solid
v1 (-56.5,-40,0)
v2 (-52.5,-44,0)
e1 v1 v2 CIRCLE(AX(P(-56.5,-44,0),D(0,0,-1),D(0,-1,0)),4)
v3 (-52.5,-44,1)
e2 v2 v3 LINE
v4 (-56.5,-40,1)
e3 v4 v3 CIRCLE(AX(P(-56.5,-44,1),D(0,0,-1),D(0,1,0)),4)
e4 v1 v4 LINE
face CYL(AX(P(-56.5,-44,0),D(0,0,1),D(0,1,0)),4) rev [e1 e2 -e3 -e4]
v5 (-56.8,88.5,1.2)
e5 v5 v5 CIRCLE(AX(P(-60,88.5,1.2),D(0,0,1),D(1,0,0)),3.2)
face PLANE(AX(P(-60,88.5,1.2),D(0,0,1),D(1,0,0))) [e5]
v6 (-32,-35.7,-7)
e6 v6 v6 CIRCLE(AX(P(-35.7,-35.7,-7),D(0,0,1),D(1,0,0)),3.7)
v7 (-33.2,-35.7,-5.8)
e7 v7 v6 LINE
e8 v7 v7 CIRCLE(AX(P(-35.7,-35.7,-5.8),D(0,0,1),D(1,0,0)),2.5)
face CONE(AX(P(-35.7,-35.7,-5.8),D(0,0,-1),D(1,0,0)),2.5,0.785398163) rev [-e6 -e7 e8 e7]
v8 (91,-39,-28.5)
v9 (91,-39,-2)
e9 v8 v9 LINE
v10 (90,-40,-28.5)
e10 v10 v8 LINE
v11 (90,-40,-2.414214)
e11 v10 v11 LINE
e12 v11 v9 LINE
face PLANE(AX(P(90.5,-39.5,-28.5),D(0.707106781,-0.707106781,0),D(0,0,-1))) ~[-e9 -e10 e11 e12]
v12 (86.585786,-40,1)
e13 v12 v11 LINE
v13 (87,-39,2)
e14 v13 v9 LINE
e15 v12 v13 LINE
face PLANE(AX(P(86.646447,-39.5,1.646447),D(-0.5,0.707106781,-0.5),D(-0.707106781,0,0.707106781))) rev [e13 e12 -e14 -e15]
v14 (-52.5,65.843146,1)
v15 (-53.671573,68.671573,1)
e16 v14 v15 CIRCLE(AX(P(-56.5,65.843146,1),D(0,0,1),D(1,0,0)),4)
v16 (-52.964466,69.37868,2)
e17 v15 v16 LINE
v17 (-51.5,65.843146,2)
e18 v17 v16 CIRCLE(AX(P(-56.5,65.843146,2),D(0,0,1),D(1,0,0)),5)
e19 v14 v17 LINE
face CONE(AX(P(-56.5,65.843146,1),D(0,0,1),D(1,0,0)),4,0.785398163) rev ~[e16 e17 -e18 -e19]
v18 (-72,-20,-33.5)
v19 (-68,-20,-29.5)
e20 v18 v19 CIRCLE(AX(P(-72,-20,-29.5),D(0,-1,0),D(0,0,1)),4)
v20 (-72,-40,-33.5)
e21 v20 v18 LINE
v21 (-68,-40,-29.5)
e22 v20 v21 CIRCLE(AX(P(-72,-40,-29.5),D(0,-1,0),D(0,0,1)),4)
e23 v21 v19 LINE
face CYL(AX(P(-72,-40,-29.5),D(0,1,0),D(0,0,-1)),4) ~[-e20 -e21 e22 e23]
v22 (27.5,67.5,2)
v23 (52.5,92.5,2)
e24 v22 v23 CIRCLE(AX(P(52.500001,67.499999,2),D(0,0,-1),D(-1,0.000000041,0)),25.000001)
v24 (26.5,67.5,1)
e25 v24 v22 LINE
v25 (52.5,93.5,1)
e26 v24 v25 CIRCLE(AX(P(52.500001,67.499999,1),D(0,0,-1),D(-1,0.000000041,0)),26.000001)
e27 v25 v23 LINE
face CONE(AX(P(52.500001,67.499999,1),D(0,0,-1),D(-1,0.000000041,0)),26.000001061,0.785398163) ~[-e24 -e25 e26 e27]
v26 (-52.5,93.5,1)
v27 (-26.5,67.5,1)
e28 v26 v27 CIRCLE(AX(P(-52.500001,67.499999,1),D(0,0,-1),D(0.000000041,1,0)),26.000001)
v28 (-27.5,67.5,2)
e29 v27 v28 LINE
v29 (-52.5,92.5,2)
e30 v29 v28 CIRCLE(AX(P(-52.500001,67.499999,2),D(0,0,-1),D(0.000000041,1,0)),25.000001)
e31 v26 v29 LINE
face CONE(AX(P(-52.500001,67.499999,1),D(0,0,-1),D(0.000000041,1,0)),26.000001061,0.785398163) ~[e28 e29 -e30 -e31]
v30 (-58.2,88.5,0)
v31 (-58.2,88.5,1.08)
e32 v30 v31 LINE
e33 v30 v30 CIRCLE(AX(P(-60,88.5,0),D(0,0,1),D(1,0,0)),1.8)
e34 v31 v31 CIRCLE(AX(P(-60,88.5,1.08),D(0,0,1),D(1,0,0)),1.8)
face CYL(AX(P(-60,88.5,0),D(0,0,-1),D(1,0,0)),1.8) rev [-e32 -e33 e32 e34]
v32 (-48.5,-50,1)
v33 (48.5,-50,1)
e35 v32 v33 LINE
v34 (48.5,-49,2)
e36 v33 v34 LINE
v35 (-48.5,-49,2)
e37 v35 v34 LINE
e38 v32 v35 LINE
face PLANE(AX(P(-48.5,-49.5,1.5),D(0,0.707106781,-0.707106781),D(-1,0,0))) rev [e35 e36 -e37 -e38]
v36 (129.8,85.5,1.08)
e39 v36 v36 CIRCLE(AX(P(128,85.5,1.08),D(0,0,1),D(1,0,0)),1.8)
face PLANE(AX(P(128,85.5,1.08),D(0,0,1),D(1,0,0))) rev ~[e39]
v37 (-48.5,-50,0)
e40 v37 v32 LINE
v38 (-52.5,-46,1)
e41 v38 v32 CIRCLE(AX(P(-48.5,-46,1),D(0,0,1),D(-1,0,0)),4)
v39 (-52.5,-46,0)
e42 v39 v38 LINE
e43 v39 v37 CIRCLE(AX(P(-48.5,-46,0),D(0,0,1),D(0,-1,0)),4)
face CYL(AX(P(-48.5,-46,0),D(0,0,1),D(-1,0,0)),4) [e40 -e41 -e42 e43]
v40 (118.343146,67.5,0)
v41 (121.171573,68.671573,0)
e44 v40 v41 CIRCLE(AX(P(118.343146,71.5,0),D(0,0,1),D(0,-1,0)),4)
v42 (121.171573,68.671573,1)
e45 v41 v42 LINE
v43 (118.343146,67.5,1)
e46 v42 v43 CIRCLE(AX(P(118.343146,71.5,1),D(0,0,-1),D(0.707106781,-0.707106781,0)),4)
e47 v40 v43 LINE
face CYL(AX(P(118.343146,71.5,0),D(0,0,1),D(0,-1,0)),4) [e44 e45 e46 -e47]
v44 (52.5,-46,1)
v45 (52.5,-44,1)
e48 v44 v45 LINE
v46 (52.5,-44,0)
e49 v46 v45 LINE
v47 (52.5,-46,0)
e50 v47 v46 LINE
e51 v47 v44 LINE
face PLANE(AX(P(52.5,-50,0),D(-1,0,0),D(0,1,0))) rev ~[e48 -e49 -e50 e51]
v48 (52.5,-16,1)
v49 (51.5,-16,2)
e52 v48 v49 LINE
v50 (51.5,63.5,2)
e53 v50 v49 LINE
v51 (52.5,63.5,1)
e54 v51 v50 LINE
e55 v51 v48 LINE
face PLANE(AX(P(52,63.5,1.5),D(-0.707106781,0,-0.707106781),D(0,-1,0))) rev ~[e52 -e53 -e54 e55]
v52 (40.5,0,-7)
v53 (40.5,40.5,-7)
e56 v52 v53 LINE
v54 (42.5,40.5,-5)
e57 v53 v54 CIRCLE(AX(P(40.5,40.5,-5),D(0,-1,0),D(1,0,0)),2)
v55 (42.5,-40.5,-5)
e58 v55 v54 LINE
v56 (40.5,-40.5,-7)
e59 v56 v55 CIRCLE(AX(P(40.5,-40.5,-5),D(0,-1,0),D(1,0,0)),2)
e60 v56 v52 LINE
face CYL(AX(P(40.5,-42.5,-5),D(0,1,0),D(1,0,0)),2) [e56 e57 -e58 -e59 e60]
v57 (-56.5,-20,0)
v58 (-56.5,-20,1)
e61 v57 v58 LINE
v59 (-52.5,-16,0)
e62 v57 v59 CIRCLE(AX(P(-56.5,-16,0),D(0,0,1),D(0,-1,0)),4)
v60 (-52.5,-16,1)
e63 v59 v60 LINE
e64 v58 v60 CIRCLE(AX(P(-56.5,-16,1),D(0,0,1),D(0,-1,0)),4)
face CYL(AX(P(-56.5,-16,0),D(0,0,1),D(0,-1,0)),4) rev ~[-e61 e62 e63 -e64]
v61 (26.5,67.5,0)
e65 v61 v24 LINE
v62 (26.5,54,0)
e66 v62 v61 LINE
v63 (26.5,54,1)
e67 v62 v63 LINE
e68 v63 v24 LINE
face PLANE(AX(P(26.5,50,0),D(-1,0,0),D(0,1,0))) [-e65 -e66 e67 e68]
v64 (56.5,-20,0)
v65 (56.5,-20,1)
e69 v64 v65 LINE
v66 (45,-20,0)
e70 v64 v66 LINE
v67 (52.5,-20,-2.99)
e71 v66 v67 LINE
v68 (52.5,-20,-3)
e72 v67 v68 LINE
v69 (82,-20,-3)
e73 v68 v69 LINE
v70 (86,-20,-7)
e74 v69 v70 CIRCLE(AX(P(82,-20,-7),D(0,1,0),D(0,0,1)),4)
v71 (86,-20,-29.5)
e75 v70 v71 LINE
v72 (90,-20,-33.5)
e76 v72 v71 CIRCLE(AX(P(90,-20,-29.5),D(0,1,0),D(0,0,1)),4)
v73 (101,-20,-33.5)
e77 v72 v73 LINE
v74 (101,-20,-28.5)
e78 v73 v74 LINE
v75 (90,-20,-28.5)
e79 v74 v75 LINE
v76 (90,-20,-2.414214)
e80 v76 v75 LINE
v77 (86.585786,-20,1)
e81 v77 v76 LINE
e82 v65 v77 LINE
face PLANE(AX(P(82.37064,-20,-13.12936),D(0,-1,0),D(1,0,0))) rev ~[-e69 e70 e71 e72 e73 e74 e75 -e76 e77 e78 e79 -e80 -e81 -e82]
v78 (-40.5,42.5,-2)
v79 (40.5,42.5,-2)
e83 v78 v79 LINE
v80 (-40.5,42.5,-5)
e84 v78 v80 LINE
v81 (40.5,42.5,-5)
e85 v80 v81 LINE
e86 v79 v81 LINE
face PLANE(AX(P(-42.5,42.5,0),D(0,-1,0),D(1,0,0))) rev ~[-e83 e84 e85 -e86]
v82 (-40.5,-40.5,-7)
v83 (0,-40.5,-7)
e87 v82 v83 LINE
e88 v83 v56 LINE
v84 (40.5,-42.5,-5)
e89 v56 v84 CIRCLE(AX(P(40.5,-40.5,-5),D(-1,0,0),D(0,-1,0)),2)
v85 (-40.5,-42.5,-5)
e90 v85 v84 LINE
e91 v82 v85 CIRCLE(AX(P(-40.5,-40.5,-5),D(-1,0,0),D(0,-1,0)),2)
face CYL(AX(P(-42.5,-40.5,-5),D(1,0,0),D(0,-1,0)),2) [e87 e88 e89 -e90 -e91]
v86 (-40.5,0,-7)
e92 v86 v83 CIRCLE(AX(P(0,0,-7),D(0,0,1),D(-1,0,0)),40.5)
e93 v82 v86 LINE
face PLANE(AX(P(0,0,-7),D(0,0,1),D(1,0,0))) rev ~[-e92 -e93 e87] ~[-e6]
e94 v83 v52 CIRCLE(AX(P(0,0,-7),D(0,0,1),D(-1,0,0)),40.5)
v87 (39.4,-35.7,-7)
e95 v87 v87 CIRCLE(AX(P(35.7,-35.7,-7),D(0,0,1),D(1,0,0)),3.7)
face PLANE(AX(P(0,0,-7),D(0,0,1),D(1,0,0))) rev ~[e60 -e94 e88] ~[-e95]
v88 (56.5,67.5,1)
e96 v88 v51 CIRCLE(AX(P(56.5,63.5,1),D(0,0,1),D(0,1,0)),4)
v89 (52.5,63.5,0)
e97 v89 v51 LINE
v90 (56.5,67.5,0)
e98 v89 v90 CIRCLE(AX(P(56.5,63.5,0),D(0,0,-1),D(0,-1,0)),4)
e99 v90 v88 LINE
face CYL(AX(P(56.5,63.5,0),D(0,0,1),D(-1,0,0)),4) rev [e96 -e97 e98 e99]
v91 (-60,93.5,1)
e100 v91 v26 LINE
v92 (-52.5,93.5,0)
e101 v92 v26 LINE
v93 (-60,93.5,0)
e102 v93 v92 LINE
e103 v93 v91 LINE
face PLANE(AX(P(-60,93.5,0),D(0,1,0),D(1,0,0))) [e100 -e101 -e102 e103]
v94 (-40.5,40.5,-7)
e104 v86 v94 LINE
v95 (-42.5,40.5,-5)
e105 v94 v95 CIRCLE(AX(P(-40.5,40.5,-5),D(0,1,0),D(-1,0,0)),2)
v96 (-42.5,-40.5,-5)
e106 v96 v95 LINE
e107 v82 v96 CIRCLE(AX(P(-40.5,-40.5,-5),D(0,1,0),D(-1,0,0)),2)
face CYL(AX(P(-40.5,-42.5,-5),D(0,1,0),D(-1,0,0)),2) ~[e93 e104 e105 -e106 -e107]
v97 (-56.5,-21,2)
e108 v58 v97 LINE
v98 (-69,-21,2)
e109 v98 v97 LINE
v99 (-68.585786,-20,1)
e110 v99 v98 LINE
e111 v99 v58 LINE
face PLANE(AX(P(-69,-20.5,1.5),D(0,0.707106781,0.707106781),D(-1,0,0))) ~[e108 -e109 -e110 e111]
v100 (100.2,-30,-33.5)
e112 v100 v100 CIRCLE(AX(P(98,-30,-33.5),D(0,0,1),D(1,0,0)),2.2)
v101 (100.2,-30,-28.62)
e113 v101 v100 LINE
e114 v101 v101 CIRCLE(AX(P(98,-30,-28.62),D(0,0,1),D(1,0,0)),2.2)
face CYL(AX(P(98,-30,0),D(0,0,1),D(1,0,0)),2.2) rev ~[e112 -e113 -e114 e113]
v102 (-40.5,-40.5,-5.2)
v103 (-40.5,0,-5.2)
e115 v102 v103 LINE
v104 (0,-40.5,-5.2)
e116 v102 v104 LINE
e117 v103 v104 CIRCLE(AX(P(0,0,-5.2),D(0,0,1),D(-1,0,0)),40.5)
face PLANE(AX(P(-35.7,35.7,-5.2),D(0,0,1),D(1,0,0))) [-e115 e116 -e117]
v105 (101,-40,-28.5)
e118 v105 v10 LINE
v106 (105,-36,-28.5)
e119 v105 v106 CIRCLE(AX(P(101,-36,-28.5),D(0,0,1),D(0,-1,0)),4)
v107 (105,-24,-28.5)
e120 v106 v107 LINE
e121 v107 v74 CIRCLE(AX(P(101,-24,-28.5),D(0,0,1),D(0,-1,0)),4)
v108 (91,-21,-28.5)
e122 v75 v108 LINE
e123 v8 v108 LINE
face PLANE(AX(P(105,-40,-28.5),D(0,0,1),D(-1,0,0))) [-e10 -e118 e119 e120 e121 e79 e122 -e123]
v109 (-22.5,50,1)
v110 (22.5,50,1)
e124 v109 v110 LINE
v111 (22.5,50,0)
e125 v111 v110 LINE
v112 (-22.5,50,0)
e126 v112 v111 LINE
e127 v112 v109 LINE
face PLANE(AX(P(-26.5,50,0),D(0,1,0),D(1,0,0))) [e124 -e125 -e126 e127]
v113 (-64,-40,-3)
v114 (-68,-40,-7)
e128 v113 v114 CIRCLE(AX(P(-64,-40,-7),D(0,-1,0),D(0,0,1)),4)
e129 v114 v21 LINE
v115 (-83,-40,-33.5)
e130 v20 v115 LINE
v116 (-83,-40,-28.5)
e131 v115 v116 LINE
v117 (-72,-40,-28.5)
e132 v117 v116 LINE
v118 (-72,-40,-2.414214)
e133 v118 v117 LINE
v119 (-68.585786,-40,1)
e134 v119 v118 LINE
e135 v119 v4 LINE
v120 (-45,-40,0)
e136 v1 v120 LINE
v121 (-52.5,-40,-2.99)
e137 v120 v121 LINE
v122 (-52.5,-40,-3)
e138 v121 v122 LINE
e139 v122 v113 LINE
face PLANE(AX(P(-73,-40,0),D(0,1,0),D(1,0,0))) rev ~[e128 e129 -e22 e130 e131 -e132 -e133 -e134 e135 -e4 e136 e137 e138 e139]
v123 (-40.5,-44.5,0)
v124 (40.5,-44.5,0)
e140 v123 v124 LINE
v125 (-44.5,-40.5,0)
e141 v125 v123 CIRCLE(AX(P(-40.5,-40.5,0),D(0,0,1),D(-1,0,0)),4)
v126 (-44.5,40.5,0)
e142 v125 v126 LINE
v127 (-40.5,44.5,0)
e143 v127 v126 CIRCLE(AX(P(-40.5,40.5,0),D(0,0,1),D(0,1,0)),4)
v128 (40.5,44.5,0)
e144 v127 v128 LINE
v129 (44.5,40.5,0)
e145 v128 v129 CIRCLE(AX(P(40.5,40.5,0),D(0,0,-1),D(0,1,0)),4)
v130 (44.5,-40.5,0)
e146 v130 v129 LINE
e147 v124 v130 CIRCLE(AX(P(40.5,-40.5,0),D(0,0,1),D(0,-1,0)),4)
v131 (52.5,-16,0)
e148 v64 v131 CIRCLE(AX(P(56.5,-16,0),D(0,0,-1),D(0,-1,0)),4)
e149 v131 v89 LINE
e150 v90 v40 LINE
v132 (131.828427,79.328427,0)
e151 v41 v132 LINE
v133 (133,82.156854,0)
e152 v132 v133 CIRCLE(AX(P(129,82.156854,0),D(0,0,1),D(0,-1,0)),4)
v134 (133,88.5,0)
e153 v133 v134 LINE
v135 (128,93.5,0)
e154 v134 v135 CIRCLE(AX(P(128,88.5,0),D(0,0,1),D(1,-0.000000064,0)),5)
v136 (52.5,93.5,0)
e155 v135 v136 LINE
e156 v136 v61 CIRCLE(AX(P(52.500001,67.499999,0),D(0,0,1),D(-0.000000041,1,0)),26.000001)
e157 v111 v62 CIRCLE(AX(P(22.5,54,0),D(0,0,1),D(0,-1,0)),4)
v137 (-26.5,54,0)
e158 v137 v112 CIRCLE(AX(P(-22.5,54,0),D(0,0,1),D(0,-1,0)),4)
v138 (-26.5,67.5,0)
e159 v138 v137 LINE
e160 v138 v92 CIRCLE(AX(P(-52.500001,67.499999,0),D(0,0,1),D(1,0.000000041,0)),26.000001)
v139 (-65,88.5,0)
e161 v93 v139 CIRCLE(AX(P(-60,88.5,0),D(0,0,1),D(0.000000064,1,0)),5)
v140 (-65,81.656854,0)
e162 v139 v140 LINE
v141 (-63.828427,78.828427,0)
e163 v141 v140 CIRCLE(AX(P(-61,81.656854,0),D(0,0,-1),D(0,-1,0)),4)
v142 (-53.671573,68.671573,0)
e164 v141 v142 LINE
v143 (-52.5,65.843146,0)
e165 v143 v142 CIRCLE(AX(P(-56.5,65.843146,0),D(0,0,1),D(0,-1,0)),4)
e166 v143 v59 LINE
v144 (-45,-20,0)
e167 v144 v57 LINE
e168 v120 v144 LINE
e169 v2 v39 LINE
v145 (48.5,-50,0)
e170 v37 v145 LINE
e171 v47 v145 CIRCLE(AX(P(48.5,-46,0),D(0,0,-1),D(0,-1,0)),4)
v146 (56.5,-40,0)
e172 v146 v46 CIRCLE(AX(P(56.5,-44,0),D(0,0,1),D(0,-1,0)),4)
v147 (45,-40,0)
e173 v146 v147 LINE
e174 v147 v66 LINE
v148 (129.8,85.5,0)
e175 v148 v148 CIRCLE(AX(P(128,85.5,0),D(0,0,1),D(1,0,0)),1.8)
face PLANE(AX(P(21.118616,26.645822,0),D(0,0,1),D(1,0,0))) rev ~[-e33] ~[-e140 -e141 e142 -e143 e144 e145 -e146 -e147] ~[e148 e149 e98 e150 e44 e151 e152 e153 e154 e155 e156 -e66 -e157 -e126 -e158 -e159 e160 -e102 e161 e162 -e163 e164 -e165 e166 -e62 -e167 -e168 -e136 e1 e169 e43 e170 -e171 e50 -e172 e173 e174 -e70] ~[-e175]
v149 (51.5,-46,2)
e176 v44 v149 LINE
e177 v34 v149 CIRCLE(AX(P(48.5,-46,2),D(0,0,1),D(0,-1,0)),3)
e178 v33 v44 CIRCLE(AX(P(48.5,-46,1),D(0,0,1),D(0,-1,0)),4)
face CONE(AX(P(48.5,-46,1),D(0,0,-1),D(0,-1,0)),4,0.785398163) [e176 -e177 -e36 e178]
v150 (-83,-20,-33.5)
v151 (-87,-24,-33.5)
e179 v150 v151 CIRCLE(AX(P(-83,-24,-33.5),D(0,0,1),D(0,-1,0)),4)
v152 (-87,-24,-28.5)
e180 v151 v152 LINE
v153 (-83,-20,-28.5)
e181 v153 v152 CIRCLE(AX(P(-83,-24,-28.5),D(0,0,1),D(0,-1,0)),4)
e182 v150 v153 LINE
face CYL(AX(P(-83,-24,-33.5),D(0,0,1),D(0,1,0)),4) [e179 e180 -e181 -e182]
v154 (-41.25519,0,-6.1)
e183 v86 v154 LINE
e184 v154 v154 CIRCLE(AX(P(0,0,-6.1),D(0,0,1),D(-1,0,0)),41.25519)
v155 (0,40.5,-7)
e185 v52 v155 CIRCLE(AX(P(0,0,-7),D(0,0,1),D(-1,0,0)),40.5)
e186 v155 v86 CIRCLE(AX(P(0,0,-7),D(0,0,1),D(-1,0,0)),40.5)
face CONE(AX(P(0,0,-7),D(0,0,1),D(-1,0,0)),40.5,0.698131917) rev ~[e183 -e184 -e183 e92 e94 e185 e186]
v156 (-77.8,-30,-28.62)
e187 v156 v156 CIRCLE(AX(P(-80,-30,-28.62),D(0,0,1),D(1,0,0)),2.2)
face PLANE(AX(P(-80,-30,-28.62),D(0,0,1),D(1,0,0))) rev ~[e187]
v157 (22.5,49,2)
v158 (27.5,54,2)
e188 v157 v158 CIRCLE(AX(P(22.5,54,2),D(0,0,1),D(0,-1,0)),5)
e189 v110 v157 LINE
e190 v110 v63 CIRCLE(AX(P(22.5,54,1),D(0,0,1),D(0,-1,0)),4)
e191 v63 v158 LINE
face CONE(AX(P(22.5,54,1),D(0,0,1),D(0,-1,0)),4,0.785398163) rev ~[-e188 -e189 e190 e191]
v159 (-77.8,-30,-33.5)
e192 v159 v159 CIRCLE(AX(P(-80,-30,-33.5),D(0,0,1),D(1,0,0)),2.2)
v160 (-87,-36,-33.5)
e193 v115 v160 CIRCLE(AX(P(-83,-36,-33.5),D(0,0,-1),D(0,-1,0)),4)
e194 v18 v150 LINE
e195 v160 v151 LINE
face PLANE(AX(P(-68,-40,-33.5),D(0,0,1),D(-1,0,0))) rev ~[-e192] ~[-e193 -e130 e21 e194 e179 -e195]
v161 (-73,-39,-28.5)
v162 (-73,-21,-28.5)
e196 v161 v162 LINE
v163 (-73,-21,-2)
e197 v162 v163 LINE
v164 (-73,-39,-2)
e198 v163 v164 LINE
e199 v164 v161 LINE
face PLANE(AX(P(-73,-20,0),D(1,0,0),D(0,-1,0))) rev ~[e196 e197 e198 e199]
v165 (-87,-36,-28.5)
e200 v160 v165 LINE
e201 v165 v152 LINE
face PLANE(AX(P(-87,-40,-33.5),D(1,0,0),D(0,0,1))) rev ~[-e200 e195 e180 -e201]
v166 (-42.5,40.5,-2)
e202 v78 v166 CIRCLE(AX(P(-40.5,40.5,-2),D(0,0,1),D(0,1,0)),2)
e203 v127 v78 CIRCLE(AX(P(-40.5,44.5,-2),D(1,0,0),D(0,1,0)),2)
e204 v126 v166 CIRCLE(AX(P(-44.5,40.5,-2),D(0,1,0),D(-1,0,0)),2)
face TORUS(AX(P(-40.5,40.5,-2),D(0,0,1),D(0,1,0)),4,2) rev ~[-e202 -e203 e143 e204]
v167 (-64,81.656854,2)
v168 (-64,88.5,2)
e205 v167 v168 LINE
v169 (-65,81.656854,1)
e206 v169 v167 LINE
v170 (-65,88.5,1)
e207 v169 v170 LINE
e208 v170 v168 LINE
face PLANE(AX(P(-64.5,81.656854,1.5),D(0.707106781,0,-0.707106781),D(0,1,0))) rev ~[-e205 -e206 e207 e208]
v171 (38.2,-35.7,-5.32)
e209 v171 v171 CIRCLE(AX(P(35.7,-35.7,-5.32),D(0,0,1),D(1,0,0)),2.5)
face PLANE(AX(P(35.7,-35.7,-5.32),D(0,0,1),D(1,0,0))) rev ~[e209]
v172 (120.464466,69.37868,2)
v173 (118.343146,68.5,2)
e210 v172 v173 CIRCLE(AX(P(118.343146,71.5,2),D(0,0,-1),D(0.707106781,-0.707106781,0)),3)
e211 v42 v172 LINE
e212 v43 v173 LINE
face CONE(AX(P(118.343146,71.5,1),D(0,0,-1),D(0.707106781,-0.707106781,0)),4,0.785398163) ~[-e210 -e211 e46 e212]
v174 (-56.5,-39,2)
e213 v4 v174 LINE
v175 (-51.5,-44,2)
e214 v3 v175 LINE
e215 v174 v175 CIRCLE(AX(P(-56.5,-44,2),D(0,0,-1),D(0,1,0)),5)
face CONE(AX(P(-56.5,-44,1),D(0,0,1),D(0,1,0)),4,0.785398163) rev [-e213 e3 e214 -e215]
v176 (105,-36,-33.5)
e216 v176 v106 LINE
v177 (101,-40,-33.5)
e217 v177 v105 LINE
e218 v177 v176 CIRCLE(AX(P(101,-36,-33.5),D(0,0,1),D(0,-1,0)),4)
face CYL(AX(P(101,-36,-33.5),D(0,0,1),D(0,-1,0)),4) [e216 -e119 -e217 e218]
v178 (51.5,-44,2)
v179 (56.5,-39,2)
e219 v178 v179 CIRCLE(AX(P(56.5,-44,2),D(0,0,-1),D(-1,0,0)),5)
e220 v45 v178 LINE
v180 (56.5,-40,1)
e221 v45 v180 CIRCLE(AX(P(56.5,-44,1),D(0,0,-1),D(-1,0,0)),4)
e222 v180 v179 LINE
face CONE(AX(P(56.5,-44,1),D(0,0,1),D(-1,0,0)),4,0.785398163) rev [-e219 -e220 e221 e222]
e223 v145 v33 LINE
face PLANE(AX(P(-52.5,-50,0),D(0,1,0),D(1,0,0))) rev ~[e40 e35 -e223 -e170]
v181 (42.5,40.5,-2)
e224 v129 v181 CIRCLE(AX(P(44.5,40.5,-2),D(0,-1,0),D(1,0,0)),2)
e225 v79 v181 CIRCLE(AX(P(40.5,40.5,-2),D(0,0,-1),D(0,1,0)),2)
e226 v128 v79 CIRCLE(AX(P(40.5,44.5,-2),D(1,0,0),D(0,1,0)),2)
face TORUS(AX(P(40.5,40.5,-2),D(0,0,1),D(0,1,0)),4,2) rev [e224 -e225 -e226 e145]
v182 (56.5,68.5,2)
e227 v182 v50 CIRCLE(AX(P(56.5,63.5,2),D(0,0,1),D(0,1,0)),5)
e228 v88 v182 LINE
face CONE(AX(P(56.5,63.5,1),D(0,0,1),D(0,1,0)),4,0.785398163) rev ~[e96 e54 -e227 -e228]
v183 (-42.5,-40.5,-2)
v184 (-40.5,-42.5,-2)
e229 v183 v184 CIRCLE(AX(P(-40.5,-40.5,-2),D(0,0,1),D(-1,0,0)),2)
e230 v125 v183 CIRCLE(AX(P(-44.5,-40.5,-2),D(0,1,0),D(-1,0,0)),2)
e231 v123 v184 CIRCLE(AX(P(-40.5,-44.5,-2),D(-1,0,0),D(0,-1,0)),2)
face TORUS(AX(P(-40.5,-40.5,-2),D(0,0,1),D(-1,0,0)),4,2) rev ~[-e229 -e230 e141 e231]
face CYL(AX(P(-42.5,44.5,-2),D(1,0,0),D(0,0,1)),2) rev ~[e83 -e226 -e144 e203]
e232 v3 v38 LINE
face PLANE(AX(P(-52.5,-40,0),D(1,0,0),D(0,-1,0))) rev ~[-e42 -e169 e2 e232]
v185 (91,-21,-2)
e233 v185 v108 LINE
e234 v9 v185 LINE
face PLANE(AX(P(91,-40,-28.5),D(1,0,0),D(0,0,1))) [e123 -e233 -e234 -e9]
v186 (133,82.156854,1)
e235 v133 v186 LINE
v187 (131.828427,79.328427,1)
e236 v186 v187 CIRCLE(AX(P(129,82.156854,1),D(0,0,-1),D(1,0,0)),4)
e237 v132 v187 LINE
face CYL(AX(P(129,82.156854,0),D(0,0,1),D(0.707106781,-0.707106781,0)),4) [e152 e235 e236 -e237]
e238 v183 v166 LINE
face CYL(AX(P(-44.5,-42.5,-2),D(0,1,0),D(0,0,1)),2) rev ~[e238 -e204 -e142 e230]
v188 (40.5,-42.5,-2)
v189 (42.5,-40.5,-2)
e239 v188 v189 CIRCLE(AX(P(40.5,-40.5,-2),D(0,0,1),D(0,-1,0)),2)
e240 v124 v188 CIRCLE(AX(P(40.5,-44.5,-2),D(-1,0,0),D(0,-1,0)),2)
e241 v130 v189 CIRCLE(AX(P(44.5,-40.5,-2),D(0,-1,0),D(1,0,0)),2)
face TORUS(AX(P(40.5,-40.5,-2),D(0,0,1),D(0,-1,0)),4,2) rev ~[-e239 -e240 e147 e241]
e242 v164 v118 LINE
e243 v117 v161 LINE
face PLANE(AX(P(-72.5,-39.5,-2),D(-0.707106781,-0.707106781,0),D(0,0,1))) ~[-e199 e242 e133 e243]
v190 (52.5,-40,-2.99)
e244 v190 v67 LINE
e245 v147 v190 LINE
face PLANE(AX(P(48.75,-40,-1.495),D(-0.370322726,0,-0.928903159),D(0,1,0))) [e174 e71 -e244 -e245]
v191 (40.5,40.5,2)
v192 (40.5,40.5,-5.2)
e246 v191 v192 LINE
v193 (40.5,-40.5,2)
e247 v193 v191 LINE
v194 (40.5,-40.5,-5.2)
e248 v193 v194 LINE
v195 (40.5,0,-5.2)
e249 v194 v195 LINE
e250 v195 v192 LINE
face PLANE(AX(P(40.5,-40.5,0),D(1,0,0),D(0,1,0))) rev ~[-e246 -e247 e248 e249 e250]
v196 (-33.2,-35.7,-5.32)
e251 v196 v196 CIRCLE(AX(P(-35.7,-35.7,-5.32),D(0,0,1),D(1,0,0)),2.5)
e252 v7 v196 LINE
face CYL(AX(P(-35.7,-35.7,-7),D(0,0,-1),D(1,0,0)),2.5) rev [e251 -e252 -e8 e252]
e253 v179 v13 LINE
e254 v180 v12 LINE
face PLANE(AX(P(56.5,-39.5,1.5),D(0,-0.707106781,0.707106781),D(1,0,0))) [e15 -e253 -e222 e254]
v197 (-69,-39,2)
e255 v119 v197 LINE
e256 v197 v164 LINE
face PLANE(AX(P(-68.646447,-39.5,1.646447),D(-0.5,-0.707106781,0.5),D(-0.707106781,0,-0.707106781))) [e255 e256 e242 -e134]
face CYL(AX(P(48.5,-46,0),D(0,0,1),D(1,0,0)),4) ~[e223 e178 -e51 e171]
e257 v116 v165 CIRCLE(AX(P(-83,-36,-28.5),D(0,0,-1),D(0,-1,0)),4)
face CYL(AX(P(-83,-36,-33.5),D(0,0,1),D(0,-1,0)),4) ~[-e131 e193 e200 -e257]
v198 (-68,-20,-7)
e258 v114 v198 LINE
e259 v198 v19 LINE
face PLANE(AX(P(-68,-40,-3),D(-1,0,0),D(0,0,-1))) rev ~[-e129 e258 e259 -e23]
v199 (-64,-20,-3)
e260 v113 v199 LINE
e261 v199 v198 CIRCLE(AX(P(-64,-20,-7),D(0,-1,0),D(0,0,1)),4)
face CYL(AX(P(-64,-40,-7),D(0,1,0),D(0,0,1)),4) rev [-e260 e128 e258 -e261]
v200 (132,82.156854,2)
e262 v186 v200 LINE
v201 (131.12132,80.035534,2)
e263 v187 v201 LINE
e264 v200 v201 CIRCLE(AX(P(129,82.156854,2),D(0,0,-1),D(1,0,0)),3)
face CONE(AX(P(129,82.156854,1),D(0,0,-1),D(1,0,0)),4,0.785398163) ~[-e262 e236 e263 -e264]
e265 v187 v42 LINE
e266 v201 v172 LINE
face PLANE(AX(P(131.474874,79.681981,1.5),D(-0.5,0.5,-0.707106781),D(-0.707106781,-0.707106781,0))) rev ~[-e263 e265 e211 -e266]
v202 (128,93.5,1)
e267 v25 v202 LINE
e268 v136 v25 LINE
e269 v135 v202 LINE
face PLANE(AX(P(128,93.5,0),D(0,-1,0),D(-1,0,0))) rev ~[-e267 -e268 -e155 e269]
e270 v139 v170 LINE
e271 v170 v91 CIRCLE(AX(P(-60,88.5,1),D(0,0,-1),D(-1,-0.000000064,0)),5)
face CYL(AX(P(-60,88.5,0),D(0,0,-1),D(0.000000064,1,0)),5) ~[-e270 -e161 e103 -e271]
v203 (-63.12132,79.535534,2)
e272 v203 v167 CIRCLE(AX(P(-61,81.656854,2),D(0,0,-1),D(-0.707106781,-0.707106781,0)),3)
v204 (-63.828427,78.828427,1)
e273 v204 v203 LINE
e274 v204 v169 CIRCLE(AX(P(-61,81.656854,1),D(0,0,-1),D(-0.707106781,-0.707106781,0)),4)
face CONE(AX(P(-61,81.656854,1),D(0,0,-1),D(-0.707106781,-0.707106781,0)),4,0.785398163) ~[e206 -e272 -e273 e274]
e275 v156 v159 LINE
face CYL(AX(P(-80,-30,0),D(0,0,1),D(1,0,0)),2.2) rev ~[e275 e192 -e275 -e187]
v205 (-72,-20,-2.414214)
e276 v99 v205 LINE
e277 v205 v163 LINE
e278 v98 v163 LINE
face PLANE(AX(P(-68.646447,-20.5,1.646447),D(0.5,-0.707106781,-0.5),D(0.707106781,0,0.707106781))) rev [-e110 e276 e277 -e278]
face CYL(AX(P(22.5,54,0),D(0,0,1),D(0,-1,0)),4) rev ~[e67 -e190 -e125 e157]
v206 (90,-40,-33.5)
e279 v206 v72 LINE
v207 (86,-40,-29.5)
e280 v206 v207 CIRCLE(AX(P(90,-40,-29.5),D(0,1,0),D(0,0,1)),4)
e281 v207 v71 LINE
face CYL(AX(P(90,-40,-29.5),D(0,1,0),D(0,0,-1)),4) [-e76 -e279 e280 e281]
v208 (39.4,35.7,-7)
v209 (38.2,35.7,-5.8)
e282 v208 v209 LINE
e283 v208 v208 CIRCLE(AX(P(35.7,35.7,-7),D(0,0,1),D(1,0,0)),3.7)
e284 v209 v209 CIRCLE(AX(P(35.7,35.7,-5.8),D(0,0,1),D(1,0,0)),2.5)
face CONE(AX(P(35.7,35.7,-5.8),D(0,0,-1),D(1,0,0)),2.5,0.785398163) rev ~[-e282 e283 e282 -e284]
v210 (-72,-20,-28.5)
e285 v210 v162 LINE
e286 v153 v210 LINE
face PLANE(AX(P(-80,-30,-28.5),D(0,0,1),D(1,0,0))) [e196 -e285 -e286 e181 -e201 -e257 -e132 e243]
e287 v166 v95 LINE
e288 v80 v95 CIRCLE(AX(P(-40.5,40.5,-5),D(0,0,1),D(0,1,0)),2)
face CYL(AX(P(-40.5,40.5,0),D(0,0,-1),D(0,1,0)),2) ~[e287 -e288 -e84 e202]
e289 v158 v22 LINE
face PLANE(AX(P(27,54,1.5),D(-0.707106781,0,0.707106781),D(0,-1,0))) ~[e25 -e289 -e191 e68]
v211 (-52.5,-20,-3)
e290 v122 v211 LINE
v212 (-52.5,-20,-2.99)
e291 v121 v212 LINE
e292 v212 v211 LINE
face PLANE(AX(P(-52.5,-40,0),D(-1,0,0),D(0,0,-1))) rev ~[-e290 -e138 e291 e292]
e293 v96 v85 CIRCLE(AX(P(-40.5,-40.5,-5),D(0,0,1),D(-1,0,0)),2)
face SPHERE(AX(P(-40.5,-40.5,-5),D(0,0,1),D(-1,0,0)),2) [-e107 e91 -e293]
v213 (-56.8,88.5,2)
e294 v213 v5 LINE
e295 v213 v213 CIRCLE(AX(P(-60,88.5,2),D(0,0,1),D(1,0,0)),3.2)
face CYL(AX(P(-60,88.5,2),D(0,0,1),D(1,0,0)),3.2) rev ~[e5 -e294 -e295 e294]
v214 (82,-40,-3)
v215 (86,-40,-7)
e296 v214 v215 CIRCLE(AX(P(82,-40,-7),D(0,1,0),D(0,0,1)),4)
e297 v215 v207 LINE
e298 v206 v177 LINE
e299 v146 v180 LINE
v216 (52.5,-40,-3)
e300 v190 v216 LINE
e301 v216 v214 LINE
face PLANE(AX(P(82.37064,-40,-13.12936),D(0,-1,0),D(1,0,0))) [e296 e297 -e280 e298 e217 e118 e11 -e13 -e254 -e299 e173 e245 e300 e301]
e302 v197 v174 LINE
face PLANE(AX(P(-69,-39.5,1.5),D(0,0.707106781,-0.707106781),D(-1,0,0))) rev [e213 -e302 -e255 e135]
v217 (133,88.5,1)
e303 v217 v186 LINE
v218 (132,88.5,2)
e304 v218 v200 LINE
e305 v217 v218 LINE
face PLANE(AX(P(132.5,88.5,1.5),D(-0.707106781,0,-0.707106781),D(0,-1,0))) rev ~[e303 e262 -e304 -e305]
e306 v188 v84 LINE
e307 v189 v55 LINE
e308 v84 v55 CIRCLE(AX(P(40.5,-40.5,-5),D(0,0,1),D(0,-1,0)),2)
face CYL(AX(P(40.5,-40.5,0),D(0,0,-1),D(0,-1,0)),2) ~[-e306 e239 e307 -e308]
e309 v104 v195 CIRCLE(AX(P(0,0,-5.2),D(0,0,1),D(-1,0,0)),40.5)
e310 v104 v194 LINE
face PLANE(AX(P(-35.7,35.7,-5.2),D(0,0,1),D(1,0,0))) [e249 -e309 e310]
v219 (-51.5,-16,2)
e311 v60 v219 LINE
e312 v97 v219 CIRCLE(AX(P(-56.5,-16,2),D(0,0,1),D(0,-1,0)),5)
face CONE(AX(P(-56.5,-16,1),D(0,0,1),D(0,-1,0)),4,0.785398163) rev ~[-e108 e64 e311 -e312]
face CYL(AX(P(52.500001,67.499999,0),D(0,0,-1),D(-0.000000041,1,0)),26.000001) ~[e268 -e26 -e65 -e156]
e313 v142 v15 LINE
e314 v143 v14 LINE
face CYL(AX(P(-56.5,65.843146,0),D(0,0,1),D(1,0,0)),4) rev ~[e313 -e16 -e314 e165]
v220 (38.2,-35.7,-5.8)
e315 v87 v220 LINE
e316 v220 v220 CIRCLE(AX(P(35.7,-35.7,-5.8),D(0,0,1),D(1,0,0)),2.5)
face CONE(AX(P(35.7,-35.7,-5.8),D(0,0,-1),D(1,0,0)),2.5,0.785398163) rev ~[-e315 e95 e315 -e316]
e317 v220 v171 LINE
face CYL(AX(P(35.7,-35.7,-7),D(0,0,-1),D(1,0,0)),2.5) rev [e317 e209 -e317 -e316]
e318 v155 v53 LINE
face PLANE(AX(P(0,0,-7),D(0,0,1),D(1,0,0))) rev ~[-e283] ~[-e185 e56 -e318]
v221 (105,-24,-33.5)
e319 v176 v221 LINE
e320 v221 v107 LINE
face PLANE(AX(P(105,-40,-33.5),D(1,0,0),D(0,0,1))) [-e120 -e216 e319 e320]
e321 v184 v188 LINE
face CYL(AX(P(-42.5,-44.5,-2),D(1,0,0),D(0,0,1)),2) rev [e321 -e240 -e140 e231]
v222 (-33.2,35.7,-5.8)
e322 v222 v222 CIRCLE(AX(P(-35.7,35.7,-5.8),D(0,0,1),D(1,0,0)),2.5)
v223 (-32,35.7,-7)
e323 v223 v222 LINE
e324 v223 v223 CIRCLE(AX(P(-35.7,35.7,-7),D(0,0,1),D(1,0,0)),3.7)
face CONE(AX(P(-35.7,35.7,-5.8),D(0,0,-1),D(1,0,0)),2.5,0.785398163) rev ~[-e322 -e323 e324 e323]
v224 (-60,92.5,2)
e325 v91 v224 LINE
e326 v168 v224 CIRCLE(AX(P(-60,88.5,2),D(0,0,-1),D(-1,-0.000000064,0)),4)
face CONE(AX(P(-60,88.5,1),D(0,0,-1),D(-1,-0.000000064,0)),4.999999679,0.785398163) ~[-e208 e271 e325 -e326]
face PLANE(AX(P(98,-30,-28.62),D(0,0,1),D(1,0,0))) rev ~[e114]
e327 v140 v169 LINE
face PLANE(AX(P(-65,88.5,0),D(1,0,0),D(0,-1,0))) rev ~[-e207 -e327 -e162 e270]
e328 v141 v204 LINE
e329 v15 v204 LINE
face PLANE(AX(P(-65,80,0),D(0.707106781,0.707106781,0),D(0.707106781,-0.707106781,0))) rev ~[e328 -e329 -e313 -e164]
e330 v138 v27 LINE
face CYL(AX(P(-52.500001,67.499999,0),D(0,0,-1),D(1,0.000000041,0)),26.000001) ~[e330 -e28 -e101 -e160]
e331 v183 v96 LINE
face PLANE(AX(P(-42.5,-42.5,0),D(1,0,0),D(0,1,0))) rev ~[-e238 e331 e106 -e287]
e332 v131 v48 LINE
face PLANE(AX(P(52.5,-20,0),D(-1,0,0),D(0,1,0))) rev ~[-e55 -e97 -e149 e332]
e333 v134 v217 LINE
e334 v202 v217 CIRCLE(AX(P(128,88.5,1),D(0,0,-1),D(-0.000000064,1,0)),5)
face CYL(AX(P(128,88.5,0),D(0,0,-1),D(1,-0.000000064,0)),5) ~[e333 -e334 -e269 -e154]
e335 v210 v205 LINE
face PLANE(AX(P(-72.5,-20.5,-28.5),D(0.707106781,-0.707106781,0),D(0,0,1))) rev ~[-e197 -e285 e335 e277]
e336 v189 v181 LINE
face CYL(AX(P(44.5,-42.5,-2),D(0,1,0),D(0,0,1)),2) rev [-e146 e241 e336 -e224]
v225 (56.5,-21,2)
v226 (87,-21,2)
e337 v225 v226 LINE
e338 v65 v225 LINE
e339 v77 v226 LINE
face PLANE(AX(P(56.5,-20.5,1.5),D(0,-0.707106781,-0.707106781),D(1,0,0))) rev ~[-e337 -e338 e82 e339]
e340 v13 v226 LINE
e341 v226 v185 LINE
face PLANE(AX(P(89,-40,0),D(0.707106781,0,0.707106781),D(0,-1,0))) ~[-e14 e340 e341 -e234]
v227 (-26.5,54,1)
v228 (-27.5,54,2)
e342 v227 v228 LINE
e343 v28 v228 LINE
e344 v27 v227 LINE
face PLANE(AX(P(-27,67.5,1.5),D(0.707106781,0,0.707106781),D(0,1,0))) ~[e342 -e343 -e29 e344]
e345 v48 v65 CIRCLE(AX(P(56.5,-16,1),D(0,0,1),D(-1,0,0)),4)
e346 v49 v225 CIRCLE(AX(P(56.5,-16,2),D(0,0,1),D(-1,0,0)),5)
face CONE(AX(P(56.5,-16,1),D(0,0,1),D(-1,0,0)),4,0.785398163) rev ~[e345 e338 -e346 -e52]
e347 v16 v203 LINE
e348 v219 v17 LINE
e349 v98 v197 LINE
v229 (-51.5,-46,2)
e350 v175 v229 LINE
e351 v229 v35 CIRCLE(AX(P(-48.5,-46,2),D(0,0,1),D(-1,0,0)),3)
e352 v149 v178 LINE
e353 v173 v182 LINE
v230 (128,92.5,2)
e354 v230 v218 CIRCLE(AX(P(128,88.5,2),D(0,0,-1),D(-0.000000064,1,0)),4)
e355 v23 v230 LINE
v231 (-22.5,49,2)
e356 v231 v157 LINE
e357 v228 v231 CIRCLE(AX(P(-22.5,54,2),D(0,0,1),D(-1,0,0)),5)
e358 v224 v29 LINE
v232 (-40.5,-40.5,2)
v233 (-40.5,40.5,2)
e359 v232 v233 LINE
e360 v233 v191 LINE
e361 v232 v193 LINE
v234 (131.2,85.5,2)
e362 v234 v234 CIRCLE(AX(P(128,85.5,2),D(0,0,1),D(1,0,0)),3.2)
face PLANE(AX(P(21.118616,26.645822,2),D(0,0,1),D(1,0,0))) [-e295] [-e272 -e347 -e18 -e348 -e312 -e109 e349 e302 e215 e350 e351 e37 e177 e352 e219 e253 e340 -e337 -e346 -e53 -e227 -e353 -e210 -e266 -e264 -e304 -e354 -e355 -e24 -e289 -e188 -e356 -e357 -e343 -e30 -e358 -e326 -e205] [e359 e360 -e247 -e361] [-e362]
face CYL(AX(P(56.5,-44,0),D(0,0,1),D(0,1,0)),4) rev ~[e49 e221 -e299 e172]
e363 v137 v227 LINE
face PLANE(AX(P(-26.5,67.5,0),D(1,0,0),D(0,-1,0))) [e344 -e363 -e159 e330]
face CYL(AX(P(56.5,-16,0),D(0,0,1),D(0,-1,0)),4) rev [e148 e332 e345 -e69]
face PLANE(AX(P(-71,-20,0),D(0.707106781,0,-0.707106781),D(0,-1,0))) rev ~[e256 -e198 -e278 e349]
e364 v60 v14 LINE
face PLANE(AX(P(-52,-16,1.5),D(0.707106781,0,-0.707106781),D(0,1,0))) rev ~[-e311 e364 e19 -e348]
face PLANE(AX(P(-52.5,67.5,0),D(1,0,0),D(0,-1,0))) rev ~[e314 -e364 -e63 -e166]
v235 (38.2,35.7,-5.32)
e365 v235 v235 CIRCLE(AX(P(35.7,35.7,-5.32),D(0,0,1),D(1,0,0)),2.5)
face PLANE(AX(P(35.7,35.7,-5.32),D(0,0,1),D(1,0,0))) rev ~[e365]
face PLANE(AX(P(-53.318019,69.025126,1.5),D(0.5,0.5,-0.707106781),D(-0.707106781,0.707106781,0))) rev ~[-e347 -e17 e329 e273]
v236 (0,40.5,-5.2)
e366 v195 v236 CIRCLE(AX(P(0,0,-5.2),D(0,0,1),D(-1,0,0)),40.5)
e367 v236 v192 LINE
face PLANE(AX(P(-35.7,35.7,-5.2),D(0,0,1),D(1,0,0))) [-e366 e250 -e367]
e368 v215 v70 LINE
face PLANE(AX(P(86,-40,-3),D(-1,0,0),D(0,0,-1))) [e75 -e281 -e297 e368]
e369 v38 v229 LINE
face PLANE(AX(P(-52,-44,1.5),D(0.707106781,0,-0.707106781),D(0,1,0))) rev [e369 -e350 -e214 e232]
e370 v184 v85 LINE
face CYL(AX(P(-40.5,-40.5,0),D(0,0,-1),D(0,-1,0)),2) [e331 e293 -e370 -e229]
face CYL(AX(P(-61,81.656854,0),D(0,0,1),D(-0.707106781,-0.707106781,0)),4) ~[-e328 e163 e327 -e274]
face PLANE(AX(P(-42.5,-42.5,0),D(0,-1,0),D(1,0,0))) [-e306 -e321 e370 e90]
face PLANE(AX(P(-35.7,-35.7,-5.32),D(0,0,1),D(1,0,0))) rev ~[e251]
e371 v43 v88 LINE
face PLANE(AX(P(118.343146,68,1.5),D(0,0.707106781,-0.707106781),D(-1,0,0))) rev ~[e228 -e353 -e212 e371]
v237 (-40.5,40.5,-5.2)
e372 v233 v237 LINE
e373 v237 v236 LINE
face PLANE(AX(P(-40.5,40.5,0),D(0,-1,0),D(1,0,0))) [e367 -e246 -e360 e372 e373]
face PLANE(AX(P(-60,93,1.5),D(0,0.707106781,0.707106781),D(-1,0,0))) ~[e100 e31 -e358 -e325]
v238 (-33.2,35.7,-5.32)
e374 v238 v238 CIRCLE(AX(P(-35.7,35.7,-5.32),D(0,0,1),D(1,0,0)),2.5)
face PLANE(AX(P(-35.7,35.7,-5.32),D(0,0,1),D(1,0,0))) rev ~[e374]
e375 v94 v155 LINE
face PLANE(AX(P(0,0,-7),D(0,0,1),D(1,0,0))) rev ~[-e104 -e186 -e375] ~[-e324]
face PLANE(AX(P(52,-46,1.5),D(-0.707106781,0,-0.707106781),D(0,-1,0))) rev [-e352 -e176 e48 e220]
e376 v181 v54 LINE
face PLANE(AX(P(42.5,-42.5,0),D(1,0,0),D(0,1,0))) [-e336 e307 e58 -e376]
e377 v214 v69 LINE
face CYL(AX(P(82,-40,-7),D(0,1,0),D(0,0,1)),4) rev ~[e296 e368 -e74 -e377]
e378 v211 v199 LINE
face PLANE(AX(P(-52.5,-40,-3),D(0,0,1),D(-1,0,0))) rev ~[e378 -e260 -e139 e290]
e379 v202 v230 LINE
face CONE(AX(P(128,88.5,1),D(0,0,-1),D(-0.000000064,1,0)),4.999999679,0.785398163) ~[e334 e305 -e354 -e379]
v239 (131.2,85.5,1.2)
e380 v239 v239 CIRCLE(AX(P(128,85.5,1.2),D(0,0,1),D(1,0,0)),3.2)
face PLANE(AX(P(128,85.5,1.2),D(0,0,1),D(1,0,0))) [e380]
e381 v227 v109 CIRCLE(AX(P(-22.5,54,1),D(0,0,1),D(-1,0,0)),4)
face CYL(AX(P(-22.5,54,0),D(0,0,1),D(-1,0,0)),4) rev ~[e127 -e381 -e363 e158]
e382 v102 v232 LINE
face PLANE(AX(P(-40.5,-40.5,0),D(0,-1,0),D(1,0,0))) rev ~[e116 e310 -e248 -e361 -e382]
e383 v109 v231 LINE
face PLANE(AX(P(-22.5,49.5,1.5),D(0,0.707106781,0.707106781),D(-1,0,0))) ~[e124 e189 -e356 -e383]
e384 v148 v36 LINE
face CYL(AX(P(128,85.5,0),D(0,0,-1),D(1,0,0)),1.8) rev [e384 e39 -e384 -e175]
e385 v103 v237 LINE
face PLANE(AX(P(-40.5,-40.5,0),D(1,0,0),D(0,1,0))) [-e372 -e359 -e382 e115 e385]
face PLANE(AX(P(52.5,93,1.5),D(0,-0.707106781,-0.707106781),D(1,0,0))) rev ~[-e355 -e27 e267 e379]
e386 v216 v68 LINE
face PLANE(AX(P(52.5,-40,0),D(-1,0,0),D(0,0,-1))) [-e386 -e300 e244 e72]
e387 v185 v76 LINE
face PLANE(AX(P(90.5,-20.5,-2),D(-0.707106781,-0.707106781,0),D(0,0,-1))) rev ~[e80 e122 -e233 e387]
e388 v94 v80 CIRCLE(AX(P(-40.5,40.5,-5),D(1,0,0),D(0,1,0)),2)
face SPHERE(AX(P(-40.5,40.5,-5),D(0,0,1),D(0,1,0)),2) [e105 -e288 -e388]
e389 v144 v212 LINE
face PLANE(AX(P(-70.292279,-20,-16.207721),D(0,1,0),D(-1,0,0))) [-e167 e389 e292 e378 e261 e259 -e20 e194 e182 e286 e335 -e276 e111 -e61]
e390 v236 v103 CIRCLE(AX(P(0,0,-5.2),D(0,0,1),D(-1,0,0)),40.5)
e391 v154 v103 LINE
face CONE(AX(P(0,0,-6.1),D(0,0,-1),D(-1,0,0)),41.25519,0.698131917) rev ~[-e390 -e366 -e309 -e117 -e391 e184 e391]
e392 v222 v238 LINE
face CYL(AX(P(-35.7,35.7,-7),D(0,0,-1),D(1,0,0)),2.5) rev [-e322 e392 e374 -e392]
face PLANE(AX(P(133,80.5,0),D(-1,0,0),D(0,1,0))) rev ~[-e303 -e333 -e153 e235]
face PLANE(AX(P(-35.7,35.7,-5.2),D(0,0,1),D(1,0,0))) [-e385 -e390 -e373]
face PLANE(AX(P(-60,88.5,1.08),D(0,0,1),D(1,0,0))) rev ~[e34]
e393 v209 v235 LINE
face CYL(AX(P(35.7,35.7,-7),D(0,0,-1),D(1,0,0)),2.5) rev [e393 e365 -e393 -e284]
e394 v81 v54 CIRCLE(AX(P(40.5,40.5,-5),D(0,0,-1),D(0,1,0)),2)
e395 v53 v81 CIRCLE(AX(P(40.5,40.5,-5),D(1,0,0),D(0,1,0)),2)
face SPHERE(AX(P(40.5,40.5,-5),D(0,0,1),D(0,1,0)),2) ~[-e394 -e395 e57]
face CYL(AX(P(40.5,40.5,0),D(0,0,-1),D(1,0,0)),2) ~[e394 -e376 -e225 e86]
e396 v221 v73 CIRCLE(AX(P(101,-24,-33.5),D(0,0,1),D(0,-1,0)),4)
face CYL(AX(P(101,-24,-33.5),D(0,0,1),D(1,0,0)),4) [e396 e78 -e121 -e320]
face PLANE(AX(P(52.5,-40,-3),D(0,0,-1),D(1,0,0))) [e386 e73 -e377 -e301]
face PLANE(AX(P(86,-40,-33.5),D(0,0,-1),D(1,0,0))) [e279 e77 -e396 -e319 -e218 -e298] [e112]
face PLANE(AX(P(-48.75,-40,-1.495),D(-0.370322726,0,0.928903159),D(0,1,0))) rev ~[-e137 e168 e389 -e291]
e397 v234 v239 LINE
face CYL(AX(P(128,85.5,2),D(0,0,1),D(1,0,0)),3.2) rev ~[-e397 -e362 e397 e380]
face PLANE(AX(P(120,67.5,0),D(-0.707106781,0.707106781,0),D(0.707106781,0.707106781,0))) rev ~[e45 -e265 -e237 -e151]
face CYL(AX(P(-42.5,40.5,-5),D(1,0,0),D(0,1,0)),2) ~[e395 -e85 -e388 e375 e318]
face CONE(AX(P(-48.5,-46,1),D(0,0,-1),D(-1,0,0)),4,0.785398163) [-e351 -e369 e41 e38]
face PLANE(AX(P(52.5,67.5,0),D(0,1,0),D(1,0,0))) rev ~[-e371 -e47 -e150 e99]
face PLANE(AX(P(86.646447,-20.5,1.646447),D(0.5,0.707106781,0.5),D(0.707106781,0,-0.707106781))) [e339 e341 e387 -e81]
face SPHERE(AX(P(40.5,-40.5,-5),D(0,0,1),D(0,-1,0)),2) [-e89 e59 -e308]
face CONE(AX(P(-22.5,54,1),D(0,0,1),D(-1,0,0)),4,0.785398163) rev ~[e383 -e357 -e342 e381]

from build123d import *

# Parameters (mm, degrees)
SKETCH002_R      = 1.8
SKETCH002_W      = 81
SKETCH002_H      = 81
PAD_DEPTH        = 2
SKETCH003_R      = 3.2
POCKET_DEPTH     = 0.8
SKETCH006_R      = 1.8
PAD002_DEPTH     = 0.12
PAD001_DEPTH     = 20
CHAMFER001_SIZE2 = 2.99
CHAMFER001_SIZE  = 7.5
CHAMFER002_SIZE  = 4
FILLET_R         = 4
CHAMFER003_SIZE  = 1
SKETCH005_R      = 2.2
POCKET001_DEPTH  = 33.501
SKETCH010_R      = 2.2
PAD006_DEPTH     = 0.12
SKETCH007_W      = 85
SKETCH007_H      = 85
SKETCH007_W_2    = 81
SKETCH007_H_2    = 81
PAD003_DEPTH     = 7
SKETCH008_W      = 81
SKETCH008_H      = 81
SKETCH008_R      = 2.5
PAD004_DEPTH     = 1.8
CHAMFER_SIZE     = 1.2
SKETCH009_R      = 2.5
PAD005_DEPTH     = 0.12
FILLET001_R      = 2


with BuildPart() as part:
    # Sketch002 → Pad (new body)
    with BuildSketch(Plane.XY):
        with BuildLine():
            Line((-65, 88.5), (-65, 80))
            Line((-65, 80), (-52.5, 67.5))
            Line((-52.5, 67.5), (-52.5, -20))
            Line((-52.5, -20), (-73, -20))
            Line((-73, -20), (-73, -40))
            Line((-73, -40), (-52.5, -40))
            Line((-52.5, -40), (-52.5, -50))
            Line((-52.5, -50), (52.5, -50))
            Line((52.5, -50), (52.5, -40))
            Line((52.5, -40), (91, -40))
            Line((91, -40), (91, -20))
            Line((91, -20), (52.5, -20))
            Line((52.5, -20), (52.5, 67.5))
            Line((52.5, 67.5), (120, 67.5))
            Line((120, 67.5), (133, 80.5))
            Line((133, 80.5), (133, 88.5))
            ThreePointArc((133, 88.5), (131.535534, 92.035534), (128, 93.5))
            Line((128, 93.5), (52.5, 93.5))
            ThreePointArc((52.5, 93.5), (34.115224, 85.884776), (26.5, 67.5))
            Line((26.5, 50), (26.5, 67.5))
            Line((-26.5, 50), (26.5, 50))
            Line((-26.5, 67.5), (-26.5, 50))
            ThreePointArc((-26.5, 67.5), (-34.115224, 85.884776), (-52.5, 93.5))
            Line((-60, 93.5), (-52.5, 93.5))
            ThreePointArc((-60, 93.5), (-63.535534, 92.035534), (-65, 88.5))
        make_face()
        with Locations((-60, 88.5)):
            Circle(SKETCH002_R, mode=Mode.SUBTRACT)
        with Locations((128, 85.5)):
            Circle(SKETCH002_R, mode=Mode.SUBTRACT)
        Rectangle(SKETCH002_W, SKETCH002_H, mode=Mode.SUBTRACT)
    extrude(amount=PAD_DEPTH)

    # Sketch003 → Pocket (cut)
    with BuildSketch(Plane.XY.offset(2)):
        with Locations((-60, 88.5)):
            Circle(SKETCH003_R)
        with Locations((128, 85.5)):
            Circle(SKETCH003_R)
    extrude(amount=-POCKET_DEPTH, mode=Mode.SUBTRACT)

    # Sketch006 → Pad002 (join)
    with BuildSketch(Plane.XY.offset(1.2)):
        with Locations((-60, 88.5)):
            Circle(SKETCH006_R)
        with Locations((128, 85.5)):
            Circle(SKETCH006_R)
    extrude(amount=-PAD002_DEPTH)

    # Sketch004 (on DatumPlane) → Pad001 (join)
    with BuildSketch(Plane(origin=(-87, -40, 0), x_dir=(-1, 0, 0), z_dir=(0, 1, 0))):
        Polygon((-178, 0), (-139.5, 0), (-139.5, -3), (-173, -3), (-173, -33.5), (-192, -33.5), (-192, -28.5), (-178, -28.5), align=None)
        Polygon((-14, 0), (-34.5, 0), (-34.5, -3), (-19, -3), (-19, -33.5), (0, -33.5), (0, -28.5), (-14, -28.5), align=None)
    extrude(amount=PAD001_DEPTH)

    # Chamfer001
    chamfer001_edges = [part.edges().sort_by_distance(p)[0] for p in [
        (-52.5, -30, 0),
        (52.5, -30, 0),
    ]]
    chamfer001_side = part.faces().sort_by_distance((-56.25, 91.054673, 0))[0]
    chamfer(chamfer001_edges, length=CHAMFER001_SIZE, length2=CHAMFER001_SIZE2, reference=chamfer001_side)

    # Chamfer002
    chamfer002_edges = [part.edges().sort_by_distance(p)[0] for p in [
        (91, -30, 2),
        (-73, -30, 2),
    ]]
    chamfer(chamfer002_edges, length=CHAMFER002_SIZE)

    # Fillet
    fillet_edges = [part.edges().sort_by_distance(p)[0] for p in [
        (105, -40, -31),
        (-87, -40, -31),
        (-68, -30, -33.5),
        (86, -30, -33.5),
        (-87, -20, -31),
        (105, -20, -31),
        (86, -30, -3),
        (-68, -30, -3),
        (52.5, -20, 1),
        (52.5, -40, 1),
        (52.5, -50, 1),
        (-52.5, -50, 1),
        (-52.5, -40, 1),
        (-26.5, 50, 1),
        (26.5, 50, 1),
        (52.5, 67.5, 1),
        (120, 67.5, 1),
        (133, 80.5, 1),
        (-52.5, 67.5, 1),
        (-65, 80, 1),
        (-52.5, -20, 1),
    ]]
    fillet(fillet_edges, radius=FILLET_R)

    # Chamfer003
    chamfer003_edges = [part.edges().sort_by_distance(p)[0] for p in [
        (0, 50, 2),
        (0, -50, 2),
        (91, -40, -15.25),
        (89, -40, 0),
        (89, -20, 0),
        (91, -20, -15.25),
        (-71, -40, 0),
        (-71, -20, 0),
        (-73, -20, -15.25),
        (-73, -40, -15.25),
    ]]
    chamfer(chamfer003_edges, length=CHAMFER003_SIZE)

    # Sketch005 → Pocket001 (cut, through all)
    with BuildSketch(Plane.XY):
        with Locations((-80, -30)):
            Circle(SKETCH005_R)
        with Locations((98, -30)):
            Circle(SKETCH005_R)
    extrude(amount=-POCKET001_DEPTH, mode=Mode.SUBTRACT)

    # Sketch010 (on Face105 of Pocket001) → Pad006 (join)
    with BuildSketch(Plane.XY.offset(-28.5)):
        with Locations((-80, -30)):
            Circle(SKETCH010_R)
        with Locations((98, -30)):
            Circle(SKETCH010_R)
    extrude(amount=-PAD006_DEPTH)

    # Sketch007 → Pad003 (join)
    with BuildSketch(Plane.XY):
        Rectangle(SKETCH007_W, SKETCH007_H)
        Rectangle(SKETCH007_W_2, SKETCH007_H_2, mode=Mode.SUBTRACT)
    extrude(amount=-PAD003_DEPTH)

    # Sketch008 → Pad004 (join)
    with BuildSketch(Plane.XY.offset(-7)):
        Rectangle(SKETCH008_W, SKETCH008_H)
        with Locations((-35.7, 35.7)):
            Circle(SKETCH008_R, mode=Mode.SUBTRACT)
        with Locations((35.7, 35.7)):
            Circle(SKETCH008_R, mode=Mode.SUBTRACT)
        with Locations((35.7, -35.7)):
            Circle(SKETCH008_R, mode=Mode.SUBTRACT)
        with Locations((-35.7, -35.7)):
            Circle(SKETCH008_R, mode=Mode.SUBTRACT)
    extrude(amount=PAD004_DEPTH)

    # Chamfer
    chamfer_edges = [part.edges().sort_by_distance(p)[0] for p in [
        (33.2, 35.7, -7),
        (-38.2, 35.7, -7),
        (-38.2, -35.7, -7),
        (33.2, -35.7, -7),
    ]]
    chamfer(chamfer_edges, length=CHAMFER_SIZE)

    # Sketch009 → Pad005 (join)
    with BuildSketch(Plane.XY.offset(-5.2)):
        with Locations((-35.7, 35.7)):
            Circle(SKETCH009_R)
        with Locations((35.7, 35.7)):
            Circle(SKETCH009_R)
        with Locations((35.7, -35.7)):
            Circle(SKETCH009_R)
        with Locations((-35.7, -35.7)):
            Circle(SKETCH009_R)
    extrude(amount=-PAD005_DEPTH)

    # Fillet001
    fillet001_edges = [part.edges().sort_by_distance(p)[0] for p in [
        (42.5, 42.5, -3.5),
        (-42.5, 42.5, -3.5),
        (0, 42.5, 0),
        (0, 42.5, -7),
        (-42.5, -42.5, -3.5),
        (-42.5, 0, 0),
        (-42.5, 0, -7),
        (42.5, -42.5, -3.5),
        (0, -42.5, 0),
        (0, -42.5, -7),
        (42.5, 0, 0),
        (42.5, 0, -7),
    ]]
    fillet(fillet001_edges, radius=FILLET001_R)

    # Sketch016 → Groove (revolve, cut)
    with BuildSketch(Plane.XZ):
        Polygon((0, -7), (-40.5, -7), (-41.25519, -6.1), (-40.5, -5.2), (0, -5.2), align=None)
    revolve(axis=Axis((0, 0, 0), (0, 0, 1)), mode=Mode.SUBTRACT)


solid = part.part
